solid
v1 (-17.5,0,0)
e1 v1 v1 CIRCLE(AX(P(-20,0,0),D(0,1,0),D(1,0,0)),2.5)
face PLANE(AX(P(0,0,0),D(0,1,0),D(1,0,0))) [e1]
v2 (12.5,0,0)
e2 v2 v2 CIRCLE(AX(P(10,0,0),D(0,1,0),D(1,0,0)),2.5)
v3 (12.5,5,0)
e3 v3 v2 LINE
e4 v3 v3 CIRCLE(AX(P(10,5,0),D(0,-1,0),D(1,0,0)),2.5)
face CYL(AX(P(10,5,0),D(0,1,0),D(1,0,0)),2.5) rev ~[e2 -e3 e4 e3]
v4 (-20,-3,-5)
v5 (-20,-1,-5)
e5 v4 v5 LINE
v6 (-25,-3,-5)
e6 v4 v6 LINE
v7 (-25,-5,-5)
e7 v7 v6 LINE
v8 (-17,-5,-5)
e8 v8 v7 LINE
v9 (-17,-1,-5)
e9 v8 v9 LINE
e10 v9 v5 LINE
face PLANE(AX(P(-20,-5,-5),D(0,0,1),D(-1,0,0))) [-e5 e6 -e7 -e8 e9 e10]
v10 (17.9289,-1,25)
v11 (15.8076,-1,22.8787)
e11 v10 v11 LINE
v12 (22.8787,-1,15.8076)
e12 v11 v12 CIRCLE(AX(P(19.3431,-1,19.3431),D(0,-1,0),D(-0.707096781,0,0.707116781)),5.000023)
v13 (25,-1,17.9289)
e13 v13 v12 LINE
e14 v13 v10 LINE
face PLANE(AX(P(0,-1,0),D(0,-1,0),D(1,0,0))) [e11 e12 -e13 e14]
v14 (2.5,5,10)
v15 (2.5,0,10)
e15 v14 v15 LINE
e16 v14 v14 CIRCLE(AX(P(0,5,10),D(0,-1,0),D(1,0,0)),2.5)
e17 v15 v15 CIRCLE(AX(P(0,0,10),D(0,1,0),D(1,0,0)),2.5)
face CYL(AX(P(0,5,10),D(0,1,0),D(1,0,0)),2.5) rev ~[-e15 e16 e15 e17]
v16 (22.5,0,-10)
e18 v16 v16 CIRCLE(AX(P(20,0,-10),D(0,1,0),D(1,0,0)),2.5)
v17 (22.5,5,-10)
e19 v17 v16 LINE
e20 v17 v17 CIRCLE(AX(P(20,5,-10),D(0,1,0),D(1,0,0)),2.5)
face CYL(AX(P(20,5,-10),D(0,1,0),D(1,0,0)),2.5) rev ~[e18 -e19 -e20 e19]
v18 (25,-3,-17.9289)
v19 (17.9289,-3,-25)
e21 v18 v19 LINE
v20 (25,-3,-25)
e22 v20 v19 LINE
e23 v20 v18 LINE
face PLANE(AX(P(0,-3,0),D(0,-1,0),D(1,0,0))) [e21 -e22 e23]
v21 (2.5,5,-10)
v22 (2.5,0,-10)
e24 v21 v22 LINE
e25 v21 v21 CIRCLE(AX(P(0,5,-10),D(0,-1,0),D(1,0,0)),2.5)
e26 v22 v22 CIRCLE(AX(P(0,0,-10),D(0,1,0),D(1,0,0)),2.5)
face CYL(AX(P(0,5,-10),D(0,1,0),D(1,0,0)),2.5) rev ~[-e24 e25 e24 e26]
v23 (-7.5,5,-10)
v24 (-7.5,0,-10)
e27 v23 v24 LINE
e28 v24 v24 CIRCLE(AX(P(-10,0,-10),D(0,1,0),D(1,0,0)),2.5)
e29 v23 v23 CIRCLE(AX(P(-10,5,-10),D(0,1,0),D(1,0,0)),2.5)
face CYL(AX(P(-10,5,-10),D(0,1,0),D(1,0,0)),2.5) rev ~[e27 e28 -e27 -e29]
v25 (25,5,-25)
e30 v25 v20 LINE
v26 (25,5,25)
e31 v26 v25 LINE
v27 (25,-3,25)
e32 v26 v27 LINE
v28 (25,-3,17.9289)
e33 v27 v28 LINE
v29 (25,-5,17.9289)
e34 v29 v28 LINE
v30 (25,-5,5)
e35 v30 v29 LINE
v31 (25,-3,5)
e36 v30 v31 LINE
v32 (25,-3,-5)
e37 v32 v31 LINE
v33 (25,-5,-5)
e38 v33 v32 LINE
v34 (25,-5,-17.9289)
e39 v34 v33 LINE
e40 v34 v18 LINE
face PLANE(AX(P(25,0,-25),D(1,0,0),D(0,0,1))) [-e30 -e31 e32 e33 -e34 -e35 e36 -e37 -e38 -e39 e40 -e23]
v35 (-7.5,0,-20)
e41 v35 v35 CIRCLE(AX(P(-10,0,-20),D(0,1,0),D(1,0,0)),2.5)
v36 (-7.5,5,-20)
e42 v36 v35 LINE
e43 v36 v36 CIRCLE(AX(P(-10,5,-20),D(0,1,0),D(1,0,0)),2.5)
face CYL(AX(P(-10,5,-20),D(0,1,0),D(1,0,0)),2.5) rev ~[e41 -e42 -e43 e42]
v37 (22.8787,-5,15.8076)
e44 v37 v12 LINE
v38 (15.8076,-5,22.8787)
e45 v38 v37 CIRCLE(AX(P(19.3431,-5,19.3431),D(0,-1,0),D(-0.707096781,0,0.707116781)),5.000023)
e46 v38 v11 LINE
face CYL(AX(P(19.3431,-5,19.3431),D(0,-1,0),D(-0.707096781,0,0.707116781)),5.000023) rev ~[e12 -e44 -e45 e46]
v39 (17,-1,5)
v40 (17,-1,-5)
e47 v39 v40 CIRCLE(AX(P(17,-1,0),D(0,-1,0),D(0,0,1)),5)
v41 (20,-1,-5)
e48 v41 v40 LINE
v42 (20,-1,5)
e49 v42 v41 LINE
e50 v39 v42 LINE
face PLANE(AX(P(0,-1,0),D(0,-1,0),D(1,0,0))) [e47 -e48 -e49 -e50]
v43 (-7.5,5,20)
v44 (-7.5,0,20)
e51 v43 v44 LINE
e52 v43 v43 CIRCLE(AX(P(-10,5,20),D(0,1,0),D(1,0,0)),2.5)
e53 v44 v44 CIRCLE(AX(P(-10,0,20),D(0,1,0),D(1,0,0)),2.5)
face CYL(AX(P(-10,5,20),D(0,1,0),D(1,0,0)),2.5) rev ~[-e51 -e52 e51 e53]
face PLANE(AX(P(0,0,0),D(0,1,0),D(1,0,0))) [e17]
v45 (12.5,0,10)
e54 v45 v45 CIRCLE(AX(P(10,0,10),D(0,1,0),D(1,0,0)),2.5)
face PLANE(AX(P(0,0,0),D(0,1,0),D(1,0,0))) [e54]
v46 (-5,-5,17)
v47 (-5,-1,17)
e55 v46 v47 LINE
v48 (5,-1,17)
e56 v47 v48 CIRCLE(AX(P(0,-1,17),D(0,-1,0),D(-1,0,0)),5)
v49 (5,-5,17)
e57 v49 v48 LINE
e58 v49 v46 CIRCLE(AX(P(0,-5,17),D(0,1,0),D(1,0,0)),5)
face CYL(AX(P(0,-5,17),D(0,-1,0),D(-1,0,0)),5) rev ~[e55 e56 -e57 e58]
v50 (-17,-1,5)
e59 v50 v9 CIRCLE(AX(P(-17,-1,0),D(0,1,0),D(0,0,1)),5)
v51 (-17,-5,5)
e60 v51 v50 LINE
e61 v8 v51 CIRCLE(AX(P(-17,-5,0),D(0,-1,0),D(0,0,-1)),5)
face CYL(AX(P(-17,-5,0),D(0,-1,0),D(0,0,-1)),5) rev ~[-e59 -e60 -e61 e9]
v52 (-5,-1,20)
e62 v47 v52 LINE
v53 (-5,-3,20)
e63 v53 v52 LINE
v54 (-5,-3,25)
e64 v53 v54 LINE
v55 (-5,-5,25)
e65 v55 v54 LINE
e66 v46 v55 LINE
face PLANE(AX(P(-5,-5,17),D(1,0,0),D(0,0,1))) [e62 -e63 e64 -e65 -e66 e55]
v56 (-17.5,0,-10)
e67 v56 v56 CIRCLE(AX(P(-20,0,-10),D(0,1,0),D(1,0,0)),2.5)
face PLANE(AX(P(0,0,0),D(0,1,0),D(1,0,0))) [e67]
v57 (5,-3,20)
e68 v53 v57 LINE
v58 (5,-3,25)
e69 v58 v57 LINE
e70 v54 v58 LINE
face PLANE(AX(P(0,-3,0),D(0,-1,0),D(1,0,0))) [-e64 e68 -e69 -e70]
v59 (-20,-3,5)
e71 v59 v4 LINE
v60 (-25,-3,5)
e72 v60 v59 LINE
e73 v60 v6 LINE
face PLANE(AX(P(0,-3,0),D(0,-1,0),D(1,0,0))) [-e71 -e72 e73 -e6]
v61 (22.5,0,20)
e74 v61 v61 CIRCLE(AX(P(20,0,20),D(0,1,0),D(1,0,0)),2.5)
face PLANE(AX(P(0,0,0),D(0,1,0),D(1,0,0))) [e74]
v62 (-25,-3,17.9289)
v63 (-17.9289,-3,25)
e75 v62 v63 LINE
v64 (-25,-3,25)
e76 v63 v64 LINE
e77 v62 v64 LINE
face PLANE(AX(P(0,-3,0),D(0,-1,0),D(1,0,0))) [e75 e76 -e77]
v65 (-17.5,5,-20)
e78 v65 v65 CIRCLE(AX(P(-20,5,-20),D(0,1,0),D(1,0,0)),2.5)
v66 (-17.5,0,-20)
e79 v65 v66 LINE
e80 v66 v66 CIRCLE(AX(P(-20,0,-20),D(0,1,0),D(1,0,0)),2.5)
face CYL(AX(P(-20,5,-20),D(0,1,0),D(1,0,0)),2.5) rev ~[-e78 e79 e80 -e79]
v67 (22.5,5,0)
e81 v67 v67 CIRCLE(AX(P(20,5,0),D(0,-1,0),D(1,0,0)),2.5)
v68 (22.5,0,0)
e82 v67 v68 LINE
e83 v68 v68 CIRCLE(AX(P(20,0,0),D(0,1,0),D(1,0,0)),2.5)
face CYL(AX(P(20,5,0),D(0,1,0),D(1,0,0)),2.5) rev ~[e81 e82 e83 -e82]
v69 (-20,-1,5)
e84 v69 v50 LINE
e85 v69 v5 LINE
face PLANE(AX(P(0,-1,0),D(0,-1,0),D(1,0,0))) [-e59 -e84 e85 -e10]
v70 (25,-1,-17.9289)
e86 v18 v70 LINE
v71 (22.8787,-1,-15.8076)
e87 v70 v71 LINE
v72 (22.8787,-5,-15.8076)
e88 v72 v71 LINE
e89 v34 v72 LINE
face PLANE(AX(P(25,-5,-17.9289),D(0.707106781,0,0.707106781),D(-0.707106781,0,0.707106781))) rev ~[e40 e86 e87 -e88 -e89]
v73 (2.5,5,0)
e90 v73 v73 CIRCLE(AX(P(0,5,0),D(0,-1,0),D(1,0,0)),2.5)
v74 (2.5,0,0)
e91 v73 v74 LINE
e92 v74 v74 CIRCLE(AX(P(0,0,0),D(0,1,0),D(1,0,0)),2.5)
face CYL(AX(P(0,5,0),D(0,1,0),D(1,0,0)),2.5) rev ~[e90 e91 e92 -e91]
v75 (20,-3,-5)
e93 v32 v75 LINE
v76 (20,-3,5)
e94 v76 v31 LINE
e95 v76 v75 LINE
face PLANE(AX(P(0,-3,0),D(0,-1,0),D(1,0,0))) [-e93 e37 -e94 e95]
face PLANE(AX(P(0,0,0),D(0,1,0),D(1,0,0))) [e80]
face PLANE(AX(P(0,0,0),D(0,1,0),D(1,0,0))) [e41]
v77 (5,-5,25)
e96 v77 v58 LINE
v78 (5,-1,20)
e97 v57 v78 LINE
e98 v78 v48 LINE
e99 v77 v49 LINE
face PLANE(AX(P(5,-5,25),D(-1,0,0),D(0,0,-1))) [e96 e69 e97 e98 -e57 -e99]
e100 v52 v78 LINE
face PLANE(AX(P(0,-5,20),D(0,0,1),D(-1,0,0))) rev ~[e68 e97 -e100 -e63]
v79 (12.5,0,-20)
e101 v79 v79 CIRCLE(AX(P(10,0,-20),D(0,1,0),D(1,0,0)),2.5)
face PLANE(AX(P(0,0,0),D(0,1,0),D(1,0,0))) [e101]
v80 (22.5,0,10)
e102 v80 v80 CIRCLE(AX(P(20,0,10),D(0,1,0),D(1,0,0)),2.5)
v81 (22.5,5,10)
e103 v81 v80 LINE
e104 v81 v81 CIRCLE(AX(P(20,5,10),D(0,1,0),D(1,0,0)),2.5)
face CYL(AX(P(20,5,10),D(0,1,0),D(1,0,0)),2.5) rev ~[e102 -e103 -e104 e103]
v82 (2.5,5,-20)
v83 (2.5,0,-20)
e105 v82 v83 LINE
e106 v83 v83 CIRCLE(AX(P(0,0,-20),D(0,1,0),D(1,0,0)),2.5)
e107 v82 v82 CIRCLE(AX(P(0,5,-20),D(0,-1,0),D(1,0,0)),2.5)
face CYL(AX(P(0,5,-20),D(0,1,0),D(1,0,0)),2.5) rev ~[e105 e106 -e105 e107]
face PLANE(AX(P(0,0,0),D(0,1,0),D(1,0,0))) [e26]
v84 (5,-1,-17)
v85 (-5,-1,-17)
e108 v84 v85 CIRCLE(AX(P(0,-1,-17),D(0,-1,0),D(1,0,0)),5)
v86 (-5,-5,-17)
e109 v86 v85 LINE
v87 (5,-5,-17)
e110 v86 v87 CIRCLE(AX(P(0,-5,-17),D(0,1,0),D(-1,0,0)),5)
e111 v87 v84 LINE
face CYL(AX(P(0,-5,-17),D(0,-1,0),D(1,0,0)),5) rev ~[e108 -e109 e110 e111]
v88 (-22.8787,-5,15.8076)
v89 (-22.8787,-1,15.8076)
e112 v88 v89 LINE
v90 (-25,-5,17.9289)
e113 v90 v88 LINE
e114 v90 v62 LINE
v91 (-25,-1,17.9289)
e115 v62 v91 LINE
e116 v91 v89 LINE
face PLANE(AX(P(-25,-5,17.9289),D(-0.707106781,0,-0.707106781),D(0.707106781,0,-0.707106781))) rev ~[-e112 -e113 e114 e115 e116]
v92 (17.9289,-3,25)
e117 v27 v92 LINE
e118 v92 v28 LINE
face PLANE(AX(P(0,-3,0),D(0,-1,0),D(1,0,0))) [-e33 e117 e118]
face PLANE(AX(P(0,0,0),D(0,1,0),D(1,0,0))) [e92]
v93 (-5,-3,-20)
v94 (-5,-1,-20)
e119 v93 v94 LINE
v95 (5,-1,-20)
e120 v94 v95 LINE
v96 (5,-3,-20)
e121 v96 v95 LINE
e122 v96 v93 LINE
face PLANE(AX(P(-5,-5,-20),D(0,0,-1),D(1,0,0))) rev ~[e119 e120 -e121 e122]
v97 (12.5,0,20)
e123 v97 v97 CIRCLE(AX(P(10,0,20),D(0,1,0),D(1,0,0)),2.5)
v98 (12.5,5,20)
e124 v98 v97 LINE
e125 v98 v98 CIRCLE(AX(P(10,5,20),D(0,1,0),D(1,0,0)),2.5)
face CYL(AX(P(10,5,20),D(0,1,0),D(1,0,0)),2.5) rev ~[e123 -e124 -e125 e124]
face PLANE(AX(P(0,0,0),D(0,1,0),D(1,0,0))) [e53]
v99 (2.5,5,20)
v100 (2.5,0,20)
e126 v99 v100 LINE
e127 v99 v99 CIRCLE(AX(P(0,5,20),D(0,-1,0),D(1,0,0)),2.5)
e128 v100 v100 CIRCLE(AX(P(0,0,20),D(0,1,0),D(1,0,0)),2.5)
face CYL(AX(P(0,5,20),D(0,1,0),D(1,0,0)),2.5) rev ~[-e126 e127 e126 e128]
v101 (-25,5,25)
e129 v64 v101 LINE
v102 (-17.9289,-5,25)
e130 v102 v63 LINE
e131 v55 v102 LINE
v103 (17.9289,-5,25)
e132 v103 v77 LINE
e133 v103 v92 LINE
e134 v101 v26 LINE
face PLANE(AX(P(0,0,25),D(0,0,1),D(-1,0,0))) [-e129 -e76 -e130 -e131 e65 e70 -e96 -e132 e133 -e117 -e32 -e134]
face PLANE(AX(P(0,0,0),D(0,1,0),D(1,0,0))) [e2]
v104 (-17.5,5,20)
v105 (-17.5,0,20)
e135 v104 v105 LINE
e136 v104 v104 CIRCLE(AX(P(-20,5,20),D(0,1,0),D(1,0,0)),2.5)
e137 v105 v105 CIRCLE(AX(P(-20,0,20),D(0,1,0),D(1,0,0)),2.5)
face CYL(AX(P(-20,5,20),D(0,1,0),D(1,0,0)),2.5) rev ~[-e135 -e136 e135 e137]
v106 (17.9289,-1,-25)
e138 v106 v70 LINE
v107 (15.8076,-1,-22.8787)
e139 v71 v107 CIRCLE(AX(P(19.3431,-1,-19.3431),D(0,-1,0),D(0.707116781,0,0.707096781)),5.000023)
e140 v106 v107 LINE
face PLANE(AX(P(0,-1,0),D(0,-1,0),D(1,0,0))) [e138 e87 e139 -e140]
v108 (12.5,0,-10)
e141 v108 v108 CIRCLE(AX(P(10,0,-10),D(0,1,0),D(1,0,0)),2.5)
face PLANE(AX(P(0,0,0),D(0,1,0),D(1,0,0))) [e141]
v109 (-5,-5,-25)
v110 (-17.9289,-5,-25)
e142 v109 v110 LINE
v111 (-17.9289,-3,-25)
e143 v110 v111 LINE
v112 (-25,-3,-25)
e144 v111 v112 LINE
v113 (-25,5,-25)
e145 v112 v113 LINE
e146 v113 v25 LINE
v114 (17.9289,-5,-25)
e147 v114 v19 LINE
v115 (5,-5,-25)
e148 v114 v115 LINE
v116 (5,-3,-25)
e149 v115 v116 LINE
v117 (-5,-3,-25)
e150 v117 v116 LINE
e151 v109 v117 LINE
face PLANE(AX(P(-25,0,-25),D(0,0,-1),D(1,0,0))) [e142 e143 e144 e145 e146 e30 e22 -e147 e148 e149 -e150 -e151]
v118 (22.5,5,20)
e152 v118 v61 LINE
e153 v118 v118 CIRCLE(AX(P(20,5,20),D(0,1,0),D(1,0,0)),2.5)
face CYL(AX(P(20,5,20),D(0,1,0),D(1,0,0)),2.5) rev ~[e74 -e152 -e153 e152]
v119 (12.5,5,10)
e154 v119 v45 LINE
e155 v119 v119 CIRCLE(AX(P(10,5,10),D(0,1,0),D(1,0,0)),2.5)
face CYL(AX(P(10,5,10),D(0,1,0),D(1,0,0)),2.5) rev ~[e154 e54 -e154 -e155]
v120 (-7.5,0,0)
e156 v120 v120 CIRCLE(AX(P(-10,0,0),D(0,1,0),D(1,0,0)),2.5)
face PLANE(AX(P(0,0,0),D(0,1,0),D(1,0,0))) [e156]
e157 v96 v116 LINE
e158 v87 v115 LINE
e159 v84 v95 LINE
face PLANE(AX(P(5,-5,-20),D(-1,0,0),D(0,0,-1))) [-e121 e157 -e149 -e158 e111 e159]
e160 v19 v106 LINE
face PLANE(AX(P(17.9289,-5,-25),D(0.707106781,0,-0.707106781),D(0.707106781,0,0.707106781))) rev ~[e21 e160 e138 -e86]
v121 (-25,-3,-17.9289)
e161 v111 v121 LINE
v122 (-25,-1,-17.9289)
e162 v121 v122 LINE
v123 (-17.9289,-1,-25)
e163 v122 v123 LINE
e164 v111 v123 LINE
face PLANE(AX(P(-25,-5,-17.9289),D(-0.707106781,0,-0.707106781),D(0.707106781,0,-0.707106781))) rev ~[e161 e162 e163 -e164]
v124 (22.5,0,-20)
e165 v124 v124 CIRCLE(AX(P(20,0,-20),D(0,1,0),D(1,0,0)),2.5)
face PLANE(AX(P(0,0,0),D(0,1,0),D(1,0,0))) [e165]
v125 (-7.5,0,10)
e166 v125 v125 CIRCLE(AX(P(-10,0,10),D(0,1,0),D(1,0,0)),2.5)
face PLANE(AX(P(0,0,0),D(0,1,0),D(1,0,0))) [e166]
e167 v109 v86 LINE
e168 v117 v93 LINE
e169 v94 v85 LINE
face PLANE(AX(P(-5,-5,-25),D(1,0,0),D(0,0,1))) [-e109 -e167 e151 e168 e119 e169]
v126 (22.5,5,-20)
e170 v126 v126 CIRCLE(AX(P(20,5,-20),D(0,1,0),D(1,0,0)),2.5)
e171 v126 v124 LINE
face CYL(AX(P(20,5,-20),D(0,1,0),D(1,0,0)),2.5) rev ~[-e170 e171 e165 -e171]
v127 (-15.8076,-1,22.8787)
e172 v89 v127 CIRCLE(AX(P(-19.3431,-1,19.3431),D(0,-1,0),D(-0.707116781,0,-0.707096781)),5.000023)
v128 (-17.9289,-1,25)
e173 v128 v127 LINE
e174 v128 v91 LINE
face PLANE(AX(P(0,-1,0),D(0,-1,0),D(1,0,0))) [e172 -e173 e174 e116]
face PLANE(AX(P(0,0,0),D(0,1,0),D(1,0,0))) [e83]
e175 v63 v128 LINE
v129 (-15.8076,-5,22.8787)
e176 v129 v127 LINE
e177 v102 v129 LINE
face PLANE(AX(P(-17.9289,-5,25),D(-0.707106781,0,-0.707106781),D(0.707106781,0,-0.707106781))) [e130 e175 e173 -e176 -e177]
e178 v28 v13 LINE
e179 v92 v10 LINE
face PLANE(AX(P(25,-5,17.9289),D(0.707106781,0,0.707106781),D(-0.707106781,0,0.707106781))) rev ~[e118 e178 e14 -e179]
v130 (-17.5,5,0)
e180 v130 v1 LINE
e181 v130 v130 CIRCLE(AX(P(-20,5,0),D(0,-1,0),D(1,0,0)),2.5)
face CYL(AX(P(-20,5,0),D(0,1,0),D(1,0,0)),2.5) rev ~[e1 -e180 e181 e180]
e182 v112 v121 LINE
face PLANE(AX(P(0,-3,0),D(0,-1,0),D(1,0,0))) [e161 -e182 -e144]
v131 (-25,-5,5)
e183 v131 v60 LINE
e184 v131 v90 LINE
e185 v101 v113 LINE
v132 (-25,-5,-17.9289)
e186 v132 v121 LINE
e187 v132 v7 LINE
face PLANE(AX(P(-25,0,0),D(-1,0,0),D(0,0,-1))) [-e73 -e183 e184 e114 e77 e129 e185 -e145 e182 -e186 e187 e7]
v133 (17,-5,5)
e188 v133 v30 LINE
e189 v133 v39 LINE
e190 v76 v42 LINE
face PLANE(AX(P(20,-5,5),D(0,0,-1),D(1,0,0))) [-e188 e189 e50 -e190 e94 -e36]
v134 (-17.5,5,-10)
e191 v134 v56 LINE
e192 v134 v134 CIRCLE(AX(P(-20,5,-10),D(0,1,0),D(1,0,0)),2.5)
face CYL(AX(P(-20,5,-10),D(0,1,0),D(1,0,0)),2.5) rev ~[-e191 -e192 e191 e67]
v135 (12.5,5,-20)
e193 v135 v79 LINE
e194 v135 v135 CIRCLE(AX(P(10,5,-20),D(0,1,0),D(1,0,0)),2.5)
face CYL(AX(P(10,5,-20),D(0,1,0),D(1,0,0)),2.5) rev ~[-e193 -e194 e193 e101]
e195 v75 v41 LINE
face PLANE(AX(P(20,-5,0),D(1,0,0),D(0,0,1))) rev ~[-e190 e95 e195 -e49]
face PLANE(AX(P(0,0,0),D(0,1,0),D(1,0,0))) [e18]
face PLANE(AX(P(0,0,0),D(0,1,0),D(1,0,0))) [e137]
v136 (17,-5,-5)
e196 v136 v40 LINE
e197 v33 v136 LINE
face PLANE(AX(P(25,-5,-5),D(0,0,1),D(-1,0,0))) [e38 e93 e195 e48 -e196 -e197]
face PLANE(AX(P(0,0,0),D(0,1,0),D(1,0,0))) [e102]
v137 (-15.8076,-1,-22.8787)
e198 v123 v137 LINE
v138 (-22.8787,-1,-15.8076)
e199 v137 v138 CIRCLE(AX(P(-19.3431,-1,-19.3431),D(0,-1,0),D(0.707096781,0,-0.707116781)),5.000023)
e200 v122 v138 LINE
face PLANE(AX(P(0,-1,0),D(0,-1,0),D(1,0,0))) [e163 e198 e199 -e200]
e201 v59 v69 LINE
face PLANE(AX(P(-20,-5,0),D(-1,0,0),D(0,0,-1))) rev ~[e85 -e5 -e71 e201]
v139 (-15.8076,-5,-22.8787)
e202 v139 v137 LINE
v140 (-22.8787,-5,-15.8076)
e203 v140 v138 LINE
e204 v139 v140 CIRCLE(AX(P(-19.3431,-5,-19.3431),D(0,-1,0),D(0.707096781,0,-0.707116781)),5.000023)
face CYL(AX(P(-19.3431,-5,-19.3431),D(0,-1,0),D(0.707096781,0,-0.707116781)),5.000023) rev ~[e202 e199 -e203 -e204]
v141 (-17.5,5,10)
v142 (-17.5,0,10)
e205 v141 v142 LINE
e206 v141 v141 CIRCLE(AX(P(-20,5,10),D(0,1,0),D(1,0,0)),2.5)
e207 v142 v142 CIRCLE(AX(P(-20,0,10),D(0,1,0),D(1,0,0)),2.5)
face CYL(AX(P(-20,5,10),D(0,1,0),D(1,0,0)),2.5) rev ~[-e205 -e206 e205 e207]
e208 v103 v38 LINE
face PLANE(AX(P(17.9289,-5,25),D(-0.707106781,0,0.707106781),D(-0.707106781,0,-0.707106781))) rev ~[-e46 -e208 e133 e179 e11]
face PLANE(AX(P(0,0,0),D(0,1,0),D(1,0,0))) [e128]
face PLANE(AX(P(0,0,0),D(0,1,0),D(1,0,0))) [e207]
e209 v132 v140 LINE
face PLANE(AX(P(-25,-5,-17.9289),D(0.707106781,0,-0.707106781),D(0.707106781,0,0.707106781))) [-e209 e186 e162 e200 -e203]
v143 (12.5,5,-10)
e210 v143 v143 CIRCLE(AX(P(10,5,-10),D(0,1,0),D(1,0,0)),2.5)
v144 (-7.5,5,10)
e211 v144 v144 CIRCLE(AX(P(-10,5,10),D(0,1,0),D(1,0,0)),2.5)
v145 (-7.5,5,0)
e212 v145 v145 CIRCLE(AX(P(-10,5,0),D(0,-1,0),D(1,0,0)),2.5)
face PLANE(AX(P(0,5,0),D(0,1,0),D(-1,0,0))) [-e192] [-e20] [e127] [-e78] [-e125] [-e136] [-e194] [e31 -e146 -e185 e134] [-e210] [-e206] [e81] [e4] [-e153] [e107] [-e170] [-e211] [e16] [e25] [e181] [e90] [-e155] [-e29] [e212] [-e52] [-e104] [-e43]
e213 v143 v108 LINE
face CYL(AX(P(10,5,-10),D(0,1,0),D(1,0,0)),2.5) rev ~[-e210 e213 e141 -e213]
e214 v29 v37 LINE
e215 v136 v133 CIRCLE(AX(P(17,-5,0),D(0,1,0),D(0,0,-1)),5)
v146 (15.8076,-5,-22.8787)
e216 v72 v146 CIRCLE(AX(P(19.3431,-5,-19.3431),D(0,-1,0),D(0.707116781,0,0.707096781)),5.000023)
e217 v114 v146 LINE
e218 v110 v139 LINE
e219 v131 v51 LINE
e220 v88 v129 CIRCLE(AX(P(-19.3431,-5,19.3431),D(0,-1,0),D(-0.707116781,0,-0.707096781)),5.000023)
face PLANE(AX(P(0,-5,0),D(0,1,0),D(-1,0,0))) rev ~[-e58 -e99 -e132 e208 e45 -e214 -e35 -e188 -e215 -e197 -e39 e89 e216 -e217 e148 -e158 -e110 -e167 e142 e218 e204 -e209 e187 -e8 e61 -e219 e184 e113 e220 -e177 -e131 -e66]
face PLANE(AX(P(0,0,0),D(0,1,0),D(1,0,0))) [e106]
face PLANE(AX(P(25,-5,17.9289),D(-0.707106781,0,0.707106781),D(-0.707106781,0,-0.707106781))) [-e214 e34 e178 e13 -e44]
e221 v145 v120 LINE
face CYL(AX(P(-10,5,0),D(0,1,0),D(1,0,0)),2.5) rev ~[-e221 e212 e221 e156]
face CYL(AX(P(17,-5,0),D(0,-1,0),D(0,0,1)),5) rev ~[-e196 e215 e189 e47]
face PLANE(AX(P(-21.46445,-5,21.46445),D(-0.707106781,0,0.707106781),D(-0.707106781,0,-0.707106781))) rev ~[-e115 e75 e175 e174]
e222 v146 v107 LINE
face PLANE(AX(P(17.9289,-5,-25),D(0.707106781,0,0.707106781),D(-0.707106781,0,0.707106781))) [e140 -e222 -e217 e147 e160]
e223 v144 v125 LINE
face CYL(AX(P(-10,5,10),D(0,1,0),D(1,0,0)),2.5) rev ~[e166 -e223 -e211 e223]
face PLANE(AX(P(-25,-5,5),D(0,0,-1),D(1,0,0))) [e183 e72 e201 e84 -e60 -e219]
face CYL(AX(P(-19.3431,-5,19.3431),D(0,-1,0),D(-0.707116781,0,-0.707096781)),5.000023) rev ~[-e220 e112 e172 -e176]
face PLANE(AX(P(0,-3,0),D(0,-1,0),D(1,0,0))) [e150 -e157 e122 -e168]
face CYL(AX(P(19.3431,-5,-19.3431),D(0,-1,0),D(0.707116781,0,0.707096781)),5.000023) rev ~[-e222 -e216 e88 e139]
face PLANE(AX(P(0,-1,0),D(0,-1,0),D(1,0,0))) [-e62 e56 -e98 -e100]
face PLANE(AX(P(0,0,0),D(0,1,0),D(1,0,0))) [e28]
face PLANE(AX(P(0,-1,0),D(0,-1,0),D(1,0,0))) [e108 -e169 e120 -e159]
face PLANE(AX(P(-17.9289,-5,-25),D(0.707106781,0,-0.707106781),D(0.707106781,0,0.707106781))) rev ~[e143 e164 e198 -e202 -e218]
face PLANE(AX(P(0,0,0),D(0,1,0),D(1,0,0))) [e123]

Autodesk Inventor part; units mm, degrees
sketch "Sketch1" plane through (0, 0, 0) normal (0, 1, 0) x (-1, 0, 0)
  line L0 (25, -25) -> (-25, -25)
  line L1 (-25, -25) -> (-25, 25)
  line L2 (-25, 25) -> (25, 25)
  line L3 (25, 25) -> (25, -25)
  line L4 (0, -35) -> (0, 35) projected
  line L5 (-35, 0) -> (35, 0) projected
  point P0 (0, 0)
  point P1 (0, -25)
  point P2 (25, 0)
  dimension "d0" = 50
  dimension "d1" = 50
extrude "Extrusion1" add sketch "Sketch1" along normal mid plane 10
sketch "Sketch2" plane through (0, -5, 0) normal (0, -1, 0) x (1, 0, 0)
  line L0 (-25, -25) -> (-25, 25) projected
  line L1 (-25, 5) -> (-17, 5)
  line L2 (-17, 5) -> (-17, -5)
  line L3 (-17, -5) -> (-25, -5)
  line L4 (-25, -5) -> (-25, 5)
  arc A0 (-17, -5) -> (-17, 5) centre (-17, 0) ccw
  line L5 (-35, 0) -> (35, 0) projected
  line L6 (-20, 5) -> (-20, -5)
  line L7 (0, -35) -> (0, 35) projected
  line L8 (-5, -25) -> (-5, -17)
  arc A1 (5, -17) -> (-5, -17) centre (0, -17) ccw
  line L9 (5, -17) -> (5, -25)
  line L10 (5, -25) -> (-5, -25)
  line L11 (-5, -20) -> (5, -20)
  line L12 (-5, -17) -> (5, -17)
  line L13 (25, -5) -> (17, -5)
  arc A2 (17, 5) -> (17, -5) centre (17, 0) ccw
  line L14 (17, 5) -> (25, 5)
  line L15 (25, 5) -> (25, -5)
  line L16 (20, -5) -> (20, 5)
  line L17 (17, -5) -> (17, 5)
  line L18 (5, 25) -> (5, 17)
  arc A3 (-5, 17) -> (5, 17) centre (0, 17) ccw
  line L19 (-5, 17) -> (-5, 25)
  line L20 (-5, 25) -> (5, 25)
  line L21 (5, 20) -> (-5, 20)
  line L22 (5, 17) -> (-5, 17)
  line L23 (25, -25) -> (19.3431, -19.3431)
  line L24 (15.8076, -22.8787) -> (22.8787, -15.8076)
  line L25 (25, -25) -> (-25, -25) projected
  line L26 (17.9289, -25) -> (25, -25)
  line L27 (25, -25) -> (25, -17.9289)
  line L28 (25, 25) -> (25, -25) projected
  line L29 (17.9289, -25) -> (15.8076, -22.8787)
  line L30 (25, -17.9289) -> (22.8787, -15.8076)
  line L31 (17.9289, -25) -> (25, -17.9289)
  arc A4 (22.8787, -15.8076) -> (15.8076, -22.8787) centre (19.3431, -19.3431) ccw
  line L32 (25, 17.9289) -> (22.8787, 15.8076)
  arc A5 (15.8076, 22.8787) -> (22.8787, 15.8076) centre (19.3431, 19.3431) ccw
  line L33 (22.8787, 15.8076) -> (15.8076, 22.8787)
  line L34 (17.9289, 25) -> (15.8076, 22.8787)
  line L35 (25, 17.9289) -> (17.9289, 25)
  line L36 (25, 17.9289) -> (25, 25)
  line L37 (25, 25) -> (19.3431, 19.3431)
  line L38 (25, 25) -> (17.9289, 25)
  line L39 (-17.9289, 25) -> (-15.8076, 22.8787)
  arc A6 (-22.8787, 15.8076) -> (-15.8076, 22.8787) centre (-19.3431, 19.3431) ccw
  line L40 (-15.8076, 22.8787) -> (-22.8787, 15.8076)
  line L41 (-25, 17.9289) -> (-22.8787, 15.8076)
  line L42 (-17.9289, 25) -> (-25, 17.9289)
  line L43 (-17.9289, 25) -> (-25, 25)
  line L44 (-25, 25) -> (-19.3431, 19.3431)
  line L45 (-25, 25) -> (-25, 17.9289)
  line L46 (-25, -17.9289) -> (-22.8787, -15.8076)
  arc A7 (-15.8076, -22.8787) -> (-22.8787, -15.8076) centre (-19.3431, -19.3431) ccw
  line L47 (-22.8787, -15.8076) -> (-15.8076, -22.8787)
  line L48 (-17.9289, -25) -> (-15.8076, -22.8787)
  line L49 (-25, -17.9289) -> (-17.9289, -25)
  line L50 (-25, -17.9289) -> (-25, -25)
  line L51 (-25, -25) -> (-19.3431, -19.3431)
  line L52 (-25, -25) -> (-17.9289, -25)
  point P0 (0, 0)
  point P1 (-25, 0)
  point P2 (0, -25)
  point P3 (25, 0)
  point P4 (0, 25)
  dimension "d4" = 10
  dimension "d5" = 8
  dimension "d6" = 3
  dimension "d9" = 360
  dimension "d28" = 8
  dimension "d31" = 3
  dimension "d33" = 135
  dimension "d34" = 3
  dimension "d35" = 10
  dimension "d36" = 45
  dimension "d39" = 360
extrude "Extrusion2" cut sketch "Sketch2" against normal blind 2 contours L0 L44 L42 | L35 L37 L28 | L51 L49 L25 | L0 L49 L51 | L0 L5 L6 L3 | L8 L11 L7 L10 | L0 L1 L6 L5 | L7 L11 L9 L10 | L31 L23 L25 | L43 L42 L44 | L23 L31 L27 | L13 L16 L5 L15 | L16 L14 L15 L5 | L21 L19 L20 L7 | L7 L20 L18 L21 | L37 L35 L38
extrude "Extrusion3" cut sketch "Sketch2" against normal blind 4 contours L42 L44 L40 L41 | A3 L22 L7 | L7 L22 A3 | L32 L33 L37 L35 | L46 L47 L51 L49 | L49 L51 L47 L48 | A7 L47 | L6 L5 L2 L3 | L8 L12 L7 L11 | L6 L1 L2 L5 | L2 L5 A0 | A1 L7 L12 | L7 L12 L9 L11 | L2 A0 L5 | A1 L12 L7 | L29 L24 L23 L31 | L40 A6 | L42 L39 L40 L44 | A4 L24 | L23 L24 L30 L31 | A2 L17 L5 | L5 L17 A2 | L17 L14 L16 L5 | L5 L16 L13 L17 | L22 L19 L21 L7 | L7 L21 L18 L22 | A5 L33 | L37 L33 L34 L35
sketch "Sketch3" plane through (0, 5, 0) normal (0, 1, 0) x (1, 0, 0)
  circle A0 centre (-20, 20) radius 2.5
  line L0 (25, 25) -> (-25, 25) projected
  line L1 (-25, 25) -> (-25, -25) projected
  line L2 (-35, 0) -> (35, 0) projected
  line L3 (0, 35) -> (0, -35) projected
  circle A1 centre (-20, 10) radius 2.5
  circle A2 centre (-20, 0) radius 2.5
  circle A3 centre (-20, -10) radius 2.5
  circle A4 centre (-20, -20) radius 2.5
  circle A5 centre (-10, 20) radius 2.5
  circle A6 centre (-10, 10) radius 2.5
  circle A7 centre (-10, 0) radius 2.5
  circle A8 centre (-10, -10) radius 2.5
  circle A9 centre (-10, -20) radius 2.5
  circle A10 centre (0, 20) radius 2.5
  circle A11 centre (0, 10) radius 2.5
  circle A12 centre (0, 0) radius 2.5
  circle A13 centre (0, -10) radius 2.5
  circle A14 centre (0, -20) radius 2.5
  circle A15 centre (10, 20) radius 2.5
  circle A16 centre (10, 10) radius 2.5
  circle A17 centre (10, 0) radius 2.5
  circle A18 centre (10, -10) radius 2.5
  circle A19 centre (10, -20) radius 2.5
  circle A20 centre (20, 20) radius 2.5
  circle A21 centre (20, 10) radius 2.5
  circle A22 centre (20, 0) radius 2.5
  circle A23 centre (20, -10) radius 2.5
  circle A24 centre (20, -20) radius 2.5
  dimension "d15" = 5
  dimension "d16" = 5
  dimension "d17" = 5
  dimension "d20" = 10
  dimension "d23" = 10
extrude "Extrusion4" cut sketch "Sketch3" against normal blind 5 contours A0 | A22 L2 | L2 A22 | A17 L2 | L2 A17 | A14 L3 | L3 A14 | A13 L3 | L3 A13 | A10 L3 | L3 A10 | A2 L2 | L2 A2 | A11 L3 | L3 A11 | A7 L2 | L2 A7 | A12 L2 L3 | L3 L2 A12 | L3 A12 L2 | L2 A12 L3 | A1 | A3 | A4 | A5 | A6 | A8 | A9 | A15 | A16 | A18 | A19 | A20 | A21 | A23 | A24
properties part number "Tile"
